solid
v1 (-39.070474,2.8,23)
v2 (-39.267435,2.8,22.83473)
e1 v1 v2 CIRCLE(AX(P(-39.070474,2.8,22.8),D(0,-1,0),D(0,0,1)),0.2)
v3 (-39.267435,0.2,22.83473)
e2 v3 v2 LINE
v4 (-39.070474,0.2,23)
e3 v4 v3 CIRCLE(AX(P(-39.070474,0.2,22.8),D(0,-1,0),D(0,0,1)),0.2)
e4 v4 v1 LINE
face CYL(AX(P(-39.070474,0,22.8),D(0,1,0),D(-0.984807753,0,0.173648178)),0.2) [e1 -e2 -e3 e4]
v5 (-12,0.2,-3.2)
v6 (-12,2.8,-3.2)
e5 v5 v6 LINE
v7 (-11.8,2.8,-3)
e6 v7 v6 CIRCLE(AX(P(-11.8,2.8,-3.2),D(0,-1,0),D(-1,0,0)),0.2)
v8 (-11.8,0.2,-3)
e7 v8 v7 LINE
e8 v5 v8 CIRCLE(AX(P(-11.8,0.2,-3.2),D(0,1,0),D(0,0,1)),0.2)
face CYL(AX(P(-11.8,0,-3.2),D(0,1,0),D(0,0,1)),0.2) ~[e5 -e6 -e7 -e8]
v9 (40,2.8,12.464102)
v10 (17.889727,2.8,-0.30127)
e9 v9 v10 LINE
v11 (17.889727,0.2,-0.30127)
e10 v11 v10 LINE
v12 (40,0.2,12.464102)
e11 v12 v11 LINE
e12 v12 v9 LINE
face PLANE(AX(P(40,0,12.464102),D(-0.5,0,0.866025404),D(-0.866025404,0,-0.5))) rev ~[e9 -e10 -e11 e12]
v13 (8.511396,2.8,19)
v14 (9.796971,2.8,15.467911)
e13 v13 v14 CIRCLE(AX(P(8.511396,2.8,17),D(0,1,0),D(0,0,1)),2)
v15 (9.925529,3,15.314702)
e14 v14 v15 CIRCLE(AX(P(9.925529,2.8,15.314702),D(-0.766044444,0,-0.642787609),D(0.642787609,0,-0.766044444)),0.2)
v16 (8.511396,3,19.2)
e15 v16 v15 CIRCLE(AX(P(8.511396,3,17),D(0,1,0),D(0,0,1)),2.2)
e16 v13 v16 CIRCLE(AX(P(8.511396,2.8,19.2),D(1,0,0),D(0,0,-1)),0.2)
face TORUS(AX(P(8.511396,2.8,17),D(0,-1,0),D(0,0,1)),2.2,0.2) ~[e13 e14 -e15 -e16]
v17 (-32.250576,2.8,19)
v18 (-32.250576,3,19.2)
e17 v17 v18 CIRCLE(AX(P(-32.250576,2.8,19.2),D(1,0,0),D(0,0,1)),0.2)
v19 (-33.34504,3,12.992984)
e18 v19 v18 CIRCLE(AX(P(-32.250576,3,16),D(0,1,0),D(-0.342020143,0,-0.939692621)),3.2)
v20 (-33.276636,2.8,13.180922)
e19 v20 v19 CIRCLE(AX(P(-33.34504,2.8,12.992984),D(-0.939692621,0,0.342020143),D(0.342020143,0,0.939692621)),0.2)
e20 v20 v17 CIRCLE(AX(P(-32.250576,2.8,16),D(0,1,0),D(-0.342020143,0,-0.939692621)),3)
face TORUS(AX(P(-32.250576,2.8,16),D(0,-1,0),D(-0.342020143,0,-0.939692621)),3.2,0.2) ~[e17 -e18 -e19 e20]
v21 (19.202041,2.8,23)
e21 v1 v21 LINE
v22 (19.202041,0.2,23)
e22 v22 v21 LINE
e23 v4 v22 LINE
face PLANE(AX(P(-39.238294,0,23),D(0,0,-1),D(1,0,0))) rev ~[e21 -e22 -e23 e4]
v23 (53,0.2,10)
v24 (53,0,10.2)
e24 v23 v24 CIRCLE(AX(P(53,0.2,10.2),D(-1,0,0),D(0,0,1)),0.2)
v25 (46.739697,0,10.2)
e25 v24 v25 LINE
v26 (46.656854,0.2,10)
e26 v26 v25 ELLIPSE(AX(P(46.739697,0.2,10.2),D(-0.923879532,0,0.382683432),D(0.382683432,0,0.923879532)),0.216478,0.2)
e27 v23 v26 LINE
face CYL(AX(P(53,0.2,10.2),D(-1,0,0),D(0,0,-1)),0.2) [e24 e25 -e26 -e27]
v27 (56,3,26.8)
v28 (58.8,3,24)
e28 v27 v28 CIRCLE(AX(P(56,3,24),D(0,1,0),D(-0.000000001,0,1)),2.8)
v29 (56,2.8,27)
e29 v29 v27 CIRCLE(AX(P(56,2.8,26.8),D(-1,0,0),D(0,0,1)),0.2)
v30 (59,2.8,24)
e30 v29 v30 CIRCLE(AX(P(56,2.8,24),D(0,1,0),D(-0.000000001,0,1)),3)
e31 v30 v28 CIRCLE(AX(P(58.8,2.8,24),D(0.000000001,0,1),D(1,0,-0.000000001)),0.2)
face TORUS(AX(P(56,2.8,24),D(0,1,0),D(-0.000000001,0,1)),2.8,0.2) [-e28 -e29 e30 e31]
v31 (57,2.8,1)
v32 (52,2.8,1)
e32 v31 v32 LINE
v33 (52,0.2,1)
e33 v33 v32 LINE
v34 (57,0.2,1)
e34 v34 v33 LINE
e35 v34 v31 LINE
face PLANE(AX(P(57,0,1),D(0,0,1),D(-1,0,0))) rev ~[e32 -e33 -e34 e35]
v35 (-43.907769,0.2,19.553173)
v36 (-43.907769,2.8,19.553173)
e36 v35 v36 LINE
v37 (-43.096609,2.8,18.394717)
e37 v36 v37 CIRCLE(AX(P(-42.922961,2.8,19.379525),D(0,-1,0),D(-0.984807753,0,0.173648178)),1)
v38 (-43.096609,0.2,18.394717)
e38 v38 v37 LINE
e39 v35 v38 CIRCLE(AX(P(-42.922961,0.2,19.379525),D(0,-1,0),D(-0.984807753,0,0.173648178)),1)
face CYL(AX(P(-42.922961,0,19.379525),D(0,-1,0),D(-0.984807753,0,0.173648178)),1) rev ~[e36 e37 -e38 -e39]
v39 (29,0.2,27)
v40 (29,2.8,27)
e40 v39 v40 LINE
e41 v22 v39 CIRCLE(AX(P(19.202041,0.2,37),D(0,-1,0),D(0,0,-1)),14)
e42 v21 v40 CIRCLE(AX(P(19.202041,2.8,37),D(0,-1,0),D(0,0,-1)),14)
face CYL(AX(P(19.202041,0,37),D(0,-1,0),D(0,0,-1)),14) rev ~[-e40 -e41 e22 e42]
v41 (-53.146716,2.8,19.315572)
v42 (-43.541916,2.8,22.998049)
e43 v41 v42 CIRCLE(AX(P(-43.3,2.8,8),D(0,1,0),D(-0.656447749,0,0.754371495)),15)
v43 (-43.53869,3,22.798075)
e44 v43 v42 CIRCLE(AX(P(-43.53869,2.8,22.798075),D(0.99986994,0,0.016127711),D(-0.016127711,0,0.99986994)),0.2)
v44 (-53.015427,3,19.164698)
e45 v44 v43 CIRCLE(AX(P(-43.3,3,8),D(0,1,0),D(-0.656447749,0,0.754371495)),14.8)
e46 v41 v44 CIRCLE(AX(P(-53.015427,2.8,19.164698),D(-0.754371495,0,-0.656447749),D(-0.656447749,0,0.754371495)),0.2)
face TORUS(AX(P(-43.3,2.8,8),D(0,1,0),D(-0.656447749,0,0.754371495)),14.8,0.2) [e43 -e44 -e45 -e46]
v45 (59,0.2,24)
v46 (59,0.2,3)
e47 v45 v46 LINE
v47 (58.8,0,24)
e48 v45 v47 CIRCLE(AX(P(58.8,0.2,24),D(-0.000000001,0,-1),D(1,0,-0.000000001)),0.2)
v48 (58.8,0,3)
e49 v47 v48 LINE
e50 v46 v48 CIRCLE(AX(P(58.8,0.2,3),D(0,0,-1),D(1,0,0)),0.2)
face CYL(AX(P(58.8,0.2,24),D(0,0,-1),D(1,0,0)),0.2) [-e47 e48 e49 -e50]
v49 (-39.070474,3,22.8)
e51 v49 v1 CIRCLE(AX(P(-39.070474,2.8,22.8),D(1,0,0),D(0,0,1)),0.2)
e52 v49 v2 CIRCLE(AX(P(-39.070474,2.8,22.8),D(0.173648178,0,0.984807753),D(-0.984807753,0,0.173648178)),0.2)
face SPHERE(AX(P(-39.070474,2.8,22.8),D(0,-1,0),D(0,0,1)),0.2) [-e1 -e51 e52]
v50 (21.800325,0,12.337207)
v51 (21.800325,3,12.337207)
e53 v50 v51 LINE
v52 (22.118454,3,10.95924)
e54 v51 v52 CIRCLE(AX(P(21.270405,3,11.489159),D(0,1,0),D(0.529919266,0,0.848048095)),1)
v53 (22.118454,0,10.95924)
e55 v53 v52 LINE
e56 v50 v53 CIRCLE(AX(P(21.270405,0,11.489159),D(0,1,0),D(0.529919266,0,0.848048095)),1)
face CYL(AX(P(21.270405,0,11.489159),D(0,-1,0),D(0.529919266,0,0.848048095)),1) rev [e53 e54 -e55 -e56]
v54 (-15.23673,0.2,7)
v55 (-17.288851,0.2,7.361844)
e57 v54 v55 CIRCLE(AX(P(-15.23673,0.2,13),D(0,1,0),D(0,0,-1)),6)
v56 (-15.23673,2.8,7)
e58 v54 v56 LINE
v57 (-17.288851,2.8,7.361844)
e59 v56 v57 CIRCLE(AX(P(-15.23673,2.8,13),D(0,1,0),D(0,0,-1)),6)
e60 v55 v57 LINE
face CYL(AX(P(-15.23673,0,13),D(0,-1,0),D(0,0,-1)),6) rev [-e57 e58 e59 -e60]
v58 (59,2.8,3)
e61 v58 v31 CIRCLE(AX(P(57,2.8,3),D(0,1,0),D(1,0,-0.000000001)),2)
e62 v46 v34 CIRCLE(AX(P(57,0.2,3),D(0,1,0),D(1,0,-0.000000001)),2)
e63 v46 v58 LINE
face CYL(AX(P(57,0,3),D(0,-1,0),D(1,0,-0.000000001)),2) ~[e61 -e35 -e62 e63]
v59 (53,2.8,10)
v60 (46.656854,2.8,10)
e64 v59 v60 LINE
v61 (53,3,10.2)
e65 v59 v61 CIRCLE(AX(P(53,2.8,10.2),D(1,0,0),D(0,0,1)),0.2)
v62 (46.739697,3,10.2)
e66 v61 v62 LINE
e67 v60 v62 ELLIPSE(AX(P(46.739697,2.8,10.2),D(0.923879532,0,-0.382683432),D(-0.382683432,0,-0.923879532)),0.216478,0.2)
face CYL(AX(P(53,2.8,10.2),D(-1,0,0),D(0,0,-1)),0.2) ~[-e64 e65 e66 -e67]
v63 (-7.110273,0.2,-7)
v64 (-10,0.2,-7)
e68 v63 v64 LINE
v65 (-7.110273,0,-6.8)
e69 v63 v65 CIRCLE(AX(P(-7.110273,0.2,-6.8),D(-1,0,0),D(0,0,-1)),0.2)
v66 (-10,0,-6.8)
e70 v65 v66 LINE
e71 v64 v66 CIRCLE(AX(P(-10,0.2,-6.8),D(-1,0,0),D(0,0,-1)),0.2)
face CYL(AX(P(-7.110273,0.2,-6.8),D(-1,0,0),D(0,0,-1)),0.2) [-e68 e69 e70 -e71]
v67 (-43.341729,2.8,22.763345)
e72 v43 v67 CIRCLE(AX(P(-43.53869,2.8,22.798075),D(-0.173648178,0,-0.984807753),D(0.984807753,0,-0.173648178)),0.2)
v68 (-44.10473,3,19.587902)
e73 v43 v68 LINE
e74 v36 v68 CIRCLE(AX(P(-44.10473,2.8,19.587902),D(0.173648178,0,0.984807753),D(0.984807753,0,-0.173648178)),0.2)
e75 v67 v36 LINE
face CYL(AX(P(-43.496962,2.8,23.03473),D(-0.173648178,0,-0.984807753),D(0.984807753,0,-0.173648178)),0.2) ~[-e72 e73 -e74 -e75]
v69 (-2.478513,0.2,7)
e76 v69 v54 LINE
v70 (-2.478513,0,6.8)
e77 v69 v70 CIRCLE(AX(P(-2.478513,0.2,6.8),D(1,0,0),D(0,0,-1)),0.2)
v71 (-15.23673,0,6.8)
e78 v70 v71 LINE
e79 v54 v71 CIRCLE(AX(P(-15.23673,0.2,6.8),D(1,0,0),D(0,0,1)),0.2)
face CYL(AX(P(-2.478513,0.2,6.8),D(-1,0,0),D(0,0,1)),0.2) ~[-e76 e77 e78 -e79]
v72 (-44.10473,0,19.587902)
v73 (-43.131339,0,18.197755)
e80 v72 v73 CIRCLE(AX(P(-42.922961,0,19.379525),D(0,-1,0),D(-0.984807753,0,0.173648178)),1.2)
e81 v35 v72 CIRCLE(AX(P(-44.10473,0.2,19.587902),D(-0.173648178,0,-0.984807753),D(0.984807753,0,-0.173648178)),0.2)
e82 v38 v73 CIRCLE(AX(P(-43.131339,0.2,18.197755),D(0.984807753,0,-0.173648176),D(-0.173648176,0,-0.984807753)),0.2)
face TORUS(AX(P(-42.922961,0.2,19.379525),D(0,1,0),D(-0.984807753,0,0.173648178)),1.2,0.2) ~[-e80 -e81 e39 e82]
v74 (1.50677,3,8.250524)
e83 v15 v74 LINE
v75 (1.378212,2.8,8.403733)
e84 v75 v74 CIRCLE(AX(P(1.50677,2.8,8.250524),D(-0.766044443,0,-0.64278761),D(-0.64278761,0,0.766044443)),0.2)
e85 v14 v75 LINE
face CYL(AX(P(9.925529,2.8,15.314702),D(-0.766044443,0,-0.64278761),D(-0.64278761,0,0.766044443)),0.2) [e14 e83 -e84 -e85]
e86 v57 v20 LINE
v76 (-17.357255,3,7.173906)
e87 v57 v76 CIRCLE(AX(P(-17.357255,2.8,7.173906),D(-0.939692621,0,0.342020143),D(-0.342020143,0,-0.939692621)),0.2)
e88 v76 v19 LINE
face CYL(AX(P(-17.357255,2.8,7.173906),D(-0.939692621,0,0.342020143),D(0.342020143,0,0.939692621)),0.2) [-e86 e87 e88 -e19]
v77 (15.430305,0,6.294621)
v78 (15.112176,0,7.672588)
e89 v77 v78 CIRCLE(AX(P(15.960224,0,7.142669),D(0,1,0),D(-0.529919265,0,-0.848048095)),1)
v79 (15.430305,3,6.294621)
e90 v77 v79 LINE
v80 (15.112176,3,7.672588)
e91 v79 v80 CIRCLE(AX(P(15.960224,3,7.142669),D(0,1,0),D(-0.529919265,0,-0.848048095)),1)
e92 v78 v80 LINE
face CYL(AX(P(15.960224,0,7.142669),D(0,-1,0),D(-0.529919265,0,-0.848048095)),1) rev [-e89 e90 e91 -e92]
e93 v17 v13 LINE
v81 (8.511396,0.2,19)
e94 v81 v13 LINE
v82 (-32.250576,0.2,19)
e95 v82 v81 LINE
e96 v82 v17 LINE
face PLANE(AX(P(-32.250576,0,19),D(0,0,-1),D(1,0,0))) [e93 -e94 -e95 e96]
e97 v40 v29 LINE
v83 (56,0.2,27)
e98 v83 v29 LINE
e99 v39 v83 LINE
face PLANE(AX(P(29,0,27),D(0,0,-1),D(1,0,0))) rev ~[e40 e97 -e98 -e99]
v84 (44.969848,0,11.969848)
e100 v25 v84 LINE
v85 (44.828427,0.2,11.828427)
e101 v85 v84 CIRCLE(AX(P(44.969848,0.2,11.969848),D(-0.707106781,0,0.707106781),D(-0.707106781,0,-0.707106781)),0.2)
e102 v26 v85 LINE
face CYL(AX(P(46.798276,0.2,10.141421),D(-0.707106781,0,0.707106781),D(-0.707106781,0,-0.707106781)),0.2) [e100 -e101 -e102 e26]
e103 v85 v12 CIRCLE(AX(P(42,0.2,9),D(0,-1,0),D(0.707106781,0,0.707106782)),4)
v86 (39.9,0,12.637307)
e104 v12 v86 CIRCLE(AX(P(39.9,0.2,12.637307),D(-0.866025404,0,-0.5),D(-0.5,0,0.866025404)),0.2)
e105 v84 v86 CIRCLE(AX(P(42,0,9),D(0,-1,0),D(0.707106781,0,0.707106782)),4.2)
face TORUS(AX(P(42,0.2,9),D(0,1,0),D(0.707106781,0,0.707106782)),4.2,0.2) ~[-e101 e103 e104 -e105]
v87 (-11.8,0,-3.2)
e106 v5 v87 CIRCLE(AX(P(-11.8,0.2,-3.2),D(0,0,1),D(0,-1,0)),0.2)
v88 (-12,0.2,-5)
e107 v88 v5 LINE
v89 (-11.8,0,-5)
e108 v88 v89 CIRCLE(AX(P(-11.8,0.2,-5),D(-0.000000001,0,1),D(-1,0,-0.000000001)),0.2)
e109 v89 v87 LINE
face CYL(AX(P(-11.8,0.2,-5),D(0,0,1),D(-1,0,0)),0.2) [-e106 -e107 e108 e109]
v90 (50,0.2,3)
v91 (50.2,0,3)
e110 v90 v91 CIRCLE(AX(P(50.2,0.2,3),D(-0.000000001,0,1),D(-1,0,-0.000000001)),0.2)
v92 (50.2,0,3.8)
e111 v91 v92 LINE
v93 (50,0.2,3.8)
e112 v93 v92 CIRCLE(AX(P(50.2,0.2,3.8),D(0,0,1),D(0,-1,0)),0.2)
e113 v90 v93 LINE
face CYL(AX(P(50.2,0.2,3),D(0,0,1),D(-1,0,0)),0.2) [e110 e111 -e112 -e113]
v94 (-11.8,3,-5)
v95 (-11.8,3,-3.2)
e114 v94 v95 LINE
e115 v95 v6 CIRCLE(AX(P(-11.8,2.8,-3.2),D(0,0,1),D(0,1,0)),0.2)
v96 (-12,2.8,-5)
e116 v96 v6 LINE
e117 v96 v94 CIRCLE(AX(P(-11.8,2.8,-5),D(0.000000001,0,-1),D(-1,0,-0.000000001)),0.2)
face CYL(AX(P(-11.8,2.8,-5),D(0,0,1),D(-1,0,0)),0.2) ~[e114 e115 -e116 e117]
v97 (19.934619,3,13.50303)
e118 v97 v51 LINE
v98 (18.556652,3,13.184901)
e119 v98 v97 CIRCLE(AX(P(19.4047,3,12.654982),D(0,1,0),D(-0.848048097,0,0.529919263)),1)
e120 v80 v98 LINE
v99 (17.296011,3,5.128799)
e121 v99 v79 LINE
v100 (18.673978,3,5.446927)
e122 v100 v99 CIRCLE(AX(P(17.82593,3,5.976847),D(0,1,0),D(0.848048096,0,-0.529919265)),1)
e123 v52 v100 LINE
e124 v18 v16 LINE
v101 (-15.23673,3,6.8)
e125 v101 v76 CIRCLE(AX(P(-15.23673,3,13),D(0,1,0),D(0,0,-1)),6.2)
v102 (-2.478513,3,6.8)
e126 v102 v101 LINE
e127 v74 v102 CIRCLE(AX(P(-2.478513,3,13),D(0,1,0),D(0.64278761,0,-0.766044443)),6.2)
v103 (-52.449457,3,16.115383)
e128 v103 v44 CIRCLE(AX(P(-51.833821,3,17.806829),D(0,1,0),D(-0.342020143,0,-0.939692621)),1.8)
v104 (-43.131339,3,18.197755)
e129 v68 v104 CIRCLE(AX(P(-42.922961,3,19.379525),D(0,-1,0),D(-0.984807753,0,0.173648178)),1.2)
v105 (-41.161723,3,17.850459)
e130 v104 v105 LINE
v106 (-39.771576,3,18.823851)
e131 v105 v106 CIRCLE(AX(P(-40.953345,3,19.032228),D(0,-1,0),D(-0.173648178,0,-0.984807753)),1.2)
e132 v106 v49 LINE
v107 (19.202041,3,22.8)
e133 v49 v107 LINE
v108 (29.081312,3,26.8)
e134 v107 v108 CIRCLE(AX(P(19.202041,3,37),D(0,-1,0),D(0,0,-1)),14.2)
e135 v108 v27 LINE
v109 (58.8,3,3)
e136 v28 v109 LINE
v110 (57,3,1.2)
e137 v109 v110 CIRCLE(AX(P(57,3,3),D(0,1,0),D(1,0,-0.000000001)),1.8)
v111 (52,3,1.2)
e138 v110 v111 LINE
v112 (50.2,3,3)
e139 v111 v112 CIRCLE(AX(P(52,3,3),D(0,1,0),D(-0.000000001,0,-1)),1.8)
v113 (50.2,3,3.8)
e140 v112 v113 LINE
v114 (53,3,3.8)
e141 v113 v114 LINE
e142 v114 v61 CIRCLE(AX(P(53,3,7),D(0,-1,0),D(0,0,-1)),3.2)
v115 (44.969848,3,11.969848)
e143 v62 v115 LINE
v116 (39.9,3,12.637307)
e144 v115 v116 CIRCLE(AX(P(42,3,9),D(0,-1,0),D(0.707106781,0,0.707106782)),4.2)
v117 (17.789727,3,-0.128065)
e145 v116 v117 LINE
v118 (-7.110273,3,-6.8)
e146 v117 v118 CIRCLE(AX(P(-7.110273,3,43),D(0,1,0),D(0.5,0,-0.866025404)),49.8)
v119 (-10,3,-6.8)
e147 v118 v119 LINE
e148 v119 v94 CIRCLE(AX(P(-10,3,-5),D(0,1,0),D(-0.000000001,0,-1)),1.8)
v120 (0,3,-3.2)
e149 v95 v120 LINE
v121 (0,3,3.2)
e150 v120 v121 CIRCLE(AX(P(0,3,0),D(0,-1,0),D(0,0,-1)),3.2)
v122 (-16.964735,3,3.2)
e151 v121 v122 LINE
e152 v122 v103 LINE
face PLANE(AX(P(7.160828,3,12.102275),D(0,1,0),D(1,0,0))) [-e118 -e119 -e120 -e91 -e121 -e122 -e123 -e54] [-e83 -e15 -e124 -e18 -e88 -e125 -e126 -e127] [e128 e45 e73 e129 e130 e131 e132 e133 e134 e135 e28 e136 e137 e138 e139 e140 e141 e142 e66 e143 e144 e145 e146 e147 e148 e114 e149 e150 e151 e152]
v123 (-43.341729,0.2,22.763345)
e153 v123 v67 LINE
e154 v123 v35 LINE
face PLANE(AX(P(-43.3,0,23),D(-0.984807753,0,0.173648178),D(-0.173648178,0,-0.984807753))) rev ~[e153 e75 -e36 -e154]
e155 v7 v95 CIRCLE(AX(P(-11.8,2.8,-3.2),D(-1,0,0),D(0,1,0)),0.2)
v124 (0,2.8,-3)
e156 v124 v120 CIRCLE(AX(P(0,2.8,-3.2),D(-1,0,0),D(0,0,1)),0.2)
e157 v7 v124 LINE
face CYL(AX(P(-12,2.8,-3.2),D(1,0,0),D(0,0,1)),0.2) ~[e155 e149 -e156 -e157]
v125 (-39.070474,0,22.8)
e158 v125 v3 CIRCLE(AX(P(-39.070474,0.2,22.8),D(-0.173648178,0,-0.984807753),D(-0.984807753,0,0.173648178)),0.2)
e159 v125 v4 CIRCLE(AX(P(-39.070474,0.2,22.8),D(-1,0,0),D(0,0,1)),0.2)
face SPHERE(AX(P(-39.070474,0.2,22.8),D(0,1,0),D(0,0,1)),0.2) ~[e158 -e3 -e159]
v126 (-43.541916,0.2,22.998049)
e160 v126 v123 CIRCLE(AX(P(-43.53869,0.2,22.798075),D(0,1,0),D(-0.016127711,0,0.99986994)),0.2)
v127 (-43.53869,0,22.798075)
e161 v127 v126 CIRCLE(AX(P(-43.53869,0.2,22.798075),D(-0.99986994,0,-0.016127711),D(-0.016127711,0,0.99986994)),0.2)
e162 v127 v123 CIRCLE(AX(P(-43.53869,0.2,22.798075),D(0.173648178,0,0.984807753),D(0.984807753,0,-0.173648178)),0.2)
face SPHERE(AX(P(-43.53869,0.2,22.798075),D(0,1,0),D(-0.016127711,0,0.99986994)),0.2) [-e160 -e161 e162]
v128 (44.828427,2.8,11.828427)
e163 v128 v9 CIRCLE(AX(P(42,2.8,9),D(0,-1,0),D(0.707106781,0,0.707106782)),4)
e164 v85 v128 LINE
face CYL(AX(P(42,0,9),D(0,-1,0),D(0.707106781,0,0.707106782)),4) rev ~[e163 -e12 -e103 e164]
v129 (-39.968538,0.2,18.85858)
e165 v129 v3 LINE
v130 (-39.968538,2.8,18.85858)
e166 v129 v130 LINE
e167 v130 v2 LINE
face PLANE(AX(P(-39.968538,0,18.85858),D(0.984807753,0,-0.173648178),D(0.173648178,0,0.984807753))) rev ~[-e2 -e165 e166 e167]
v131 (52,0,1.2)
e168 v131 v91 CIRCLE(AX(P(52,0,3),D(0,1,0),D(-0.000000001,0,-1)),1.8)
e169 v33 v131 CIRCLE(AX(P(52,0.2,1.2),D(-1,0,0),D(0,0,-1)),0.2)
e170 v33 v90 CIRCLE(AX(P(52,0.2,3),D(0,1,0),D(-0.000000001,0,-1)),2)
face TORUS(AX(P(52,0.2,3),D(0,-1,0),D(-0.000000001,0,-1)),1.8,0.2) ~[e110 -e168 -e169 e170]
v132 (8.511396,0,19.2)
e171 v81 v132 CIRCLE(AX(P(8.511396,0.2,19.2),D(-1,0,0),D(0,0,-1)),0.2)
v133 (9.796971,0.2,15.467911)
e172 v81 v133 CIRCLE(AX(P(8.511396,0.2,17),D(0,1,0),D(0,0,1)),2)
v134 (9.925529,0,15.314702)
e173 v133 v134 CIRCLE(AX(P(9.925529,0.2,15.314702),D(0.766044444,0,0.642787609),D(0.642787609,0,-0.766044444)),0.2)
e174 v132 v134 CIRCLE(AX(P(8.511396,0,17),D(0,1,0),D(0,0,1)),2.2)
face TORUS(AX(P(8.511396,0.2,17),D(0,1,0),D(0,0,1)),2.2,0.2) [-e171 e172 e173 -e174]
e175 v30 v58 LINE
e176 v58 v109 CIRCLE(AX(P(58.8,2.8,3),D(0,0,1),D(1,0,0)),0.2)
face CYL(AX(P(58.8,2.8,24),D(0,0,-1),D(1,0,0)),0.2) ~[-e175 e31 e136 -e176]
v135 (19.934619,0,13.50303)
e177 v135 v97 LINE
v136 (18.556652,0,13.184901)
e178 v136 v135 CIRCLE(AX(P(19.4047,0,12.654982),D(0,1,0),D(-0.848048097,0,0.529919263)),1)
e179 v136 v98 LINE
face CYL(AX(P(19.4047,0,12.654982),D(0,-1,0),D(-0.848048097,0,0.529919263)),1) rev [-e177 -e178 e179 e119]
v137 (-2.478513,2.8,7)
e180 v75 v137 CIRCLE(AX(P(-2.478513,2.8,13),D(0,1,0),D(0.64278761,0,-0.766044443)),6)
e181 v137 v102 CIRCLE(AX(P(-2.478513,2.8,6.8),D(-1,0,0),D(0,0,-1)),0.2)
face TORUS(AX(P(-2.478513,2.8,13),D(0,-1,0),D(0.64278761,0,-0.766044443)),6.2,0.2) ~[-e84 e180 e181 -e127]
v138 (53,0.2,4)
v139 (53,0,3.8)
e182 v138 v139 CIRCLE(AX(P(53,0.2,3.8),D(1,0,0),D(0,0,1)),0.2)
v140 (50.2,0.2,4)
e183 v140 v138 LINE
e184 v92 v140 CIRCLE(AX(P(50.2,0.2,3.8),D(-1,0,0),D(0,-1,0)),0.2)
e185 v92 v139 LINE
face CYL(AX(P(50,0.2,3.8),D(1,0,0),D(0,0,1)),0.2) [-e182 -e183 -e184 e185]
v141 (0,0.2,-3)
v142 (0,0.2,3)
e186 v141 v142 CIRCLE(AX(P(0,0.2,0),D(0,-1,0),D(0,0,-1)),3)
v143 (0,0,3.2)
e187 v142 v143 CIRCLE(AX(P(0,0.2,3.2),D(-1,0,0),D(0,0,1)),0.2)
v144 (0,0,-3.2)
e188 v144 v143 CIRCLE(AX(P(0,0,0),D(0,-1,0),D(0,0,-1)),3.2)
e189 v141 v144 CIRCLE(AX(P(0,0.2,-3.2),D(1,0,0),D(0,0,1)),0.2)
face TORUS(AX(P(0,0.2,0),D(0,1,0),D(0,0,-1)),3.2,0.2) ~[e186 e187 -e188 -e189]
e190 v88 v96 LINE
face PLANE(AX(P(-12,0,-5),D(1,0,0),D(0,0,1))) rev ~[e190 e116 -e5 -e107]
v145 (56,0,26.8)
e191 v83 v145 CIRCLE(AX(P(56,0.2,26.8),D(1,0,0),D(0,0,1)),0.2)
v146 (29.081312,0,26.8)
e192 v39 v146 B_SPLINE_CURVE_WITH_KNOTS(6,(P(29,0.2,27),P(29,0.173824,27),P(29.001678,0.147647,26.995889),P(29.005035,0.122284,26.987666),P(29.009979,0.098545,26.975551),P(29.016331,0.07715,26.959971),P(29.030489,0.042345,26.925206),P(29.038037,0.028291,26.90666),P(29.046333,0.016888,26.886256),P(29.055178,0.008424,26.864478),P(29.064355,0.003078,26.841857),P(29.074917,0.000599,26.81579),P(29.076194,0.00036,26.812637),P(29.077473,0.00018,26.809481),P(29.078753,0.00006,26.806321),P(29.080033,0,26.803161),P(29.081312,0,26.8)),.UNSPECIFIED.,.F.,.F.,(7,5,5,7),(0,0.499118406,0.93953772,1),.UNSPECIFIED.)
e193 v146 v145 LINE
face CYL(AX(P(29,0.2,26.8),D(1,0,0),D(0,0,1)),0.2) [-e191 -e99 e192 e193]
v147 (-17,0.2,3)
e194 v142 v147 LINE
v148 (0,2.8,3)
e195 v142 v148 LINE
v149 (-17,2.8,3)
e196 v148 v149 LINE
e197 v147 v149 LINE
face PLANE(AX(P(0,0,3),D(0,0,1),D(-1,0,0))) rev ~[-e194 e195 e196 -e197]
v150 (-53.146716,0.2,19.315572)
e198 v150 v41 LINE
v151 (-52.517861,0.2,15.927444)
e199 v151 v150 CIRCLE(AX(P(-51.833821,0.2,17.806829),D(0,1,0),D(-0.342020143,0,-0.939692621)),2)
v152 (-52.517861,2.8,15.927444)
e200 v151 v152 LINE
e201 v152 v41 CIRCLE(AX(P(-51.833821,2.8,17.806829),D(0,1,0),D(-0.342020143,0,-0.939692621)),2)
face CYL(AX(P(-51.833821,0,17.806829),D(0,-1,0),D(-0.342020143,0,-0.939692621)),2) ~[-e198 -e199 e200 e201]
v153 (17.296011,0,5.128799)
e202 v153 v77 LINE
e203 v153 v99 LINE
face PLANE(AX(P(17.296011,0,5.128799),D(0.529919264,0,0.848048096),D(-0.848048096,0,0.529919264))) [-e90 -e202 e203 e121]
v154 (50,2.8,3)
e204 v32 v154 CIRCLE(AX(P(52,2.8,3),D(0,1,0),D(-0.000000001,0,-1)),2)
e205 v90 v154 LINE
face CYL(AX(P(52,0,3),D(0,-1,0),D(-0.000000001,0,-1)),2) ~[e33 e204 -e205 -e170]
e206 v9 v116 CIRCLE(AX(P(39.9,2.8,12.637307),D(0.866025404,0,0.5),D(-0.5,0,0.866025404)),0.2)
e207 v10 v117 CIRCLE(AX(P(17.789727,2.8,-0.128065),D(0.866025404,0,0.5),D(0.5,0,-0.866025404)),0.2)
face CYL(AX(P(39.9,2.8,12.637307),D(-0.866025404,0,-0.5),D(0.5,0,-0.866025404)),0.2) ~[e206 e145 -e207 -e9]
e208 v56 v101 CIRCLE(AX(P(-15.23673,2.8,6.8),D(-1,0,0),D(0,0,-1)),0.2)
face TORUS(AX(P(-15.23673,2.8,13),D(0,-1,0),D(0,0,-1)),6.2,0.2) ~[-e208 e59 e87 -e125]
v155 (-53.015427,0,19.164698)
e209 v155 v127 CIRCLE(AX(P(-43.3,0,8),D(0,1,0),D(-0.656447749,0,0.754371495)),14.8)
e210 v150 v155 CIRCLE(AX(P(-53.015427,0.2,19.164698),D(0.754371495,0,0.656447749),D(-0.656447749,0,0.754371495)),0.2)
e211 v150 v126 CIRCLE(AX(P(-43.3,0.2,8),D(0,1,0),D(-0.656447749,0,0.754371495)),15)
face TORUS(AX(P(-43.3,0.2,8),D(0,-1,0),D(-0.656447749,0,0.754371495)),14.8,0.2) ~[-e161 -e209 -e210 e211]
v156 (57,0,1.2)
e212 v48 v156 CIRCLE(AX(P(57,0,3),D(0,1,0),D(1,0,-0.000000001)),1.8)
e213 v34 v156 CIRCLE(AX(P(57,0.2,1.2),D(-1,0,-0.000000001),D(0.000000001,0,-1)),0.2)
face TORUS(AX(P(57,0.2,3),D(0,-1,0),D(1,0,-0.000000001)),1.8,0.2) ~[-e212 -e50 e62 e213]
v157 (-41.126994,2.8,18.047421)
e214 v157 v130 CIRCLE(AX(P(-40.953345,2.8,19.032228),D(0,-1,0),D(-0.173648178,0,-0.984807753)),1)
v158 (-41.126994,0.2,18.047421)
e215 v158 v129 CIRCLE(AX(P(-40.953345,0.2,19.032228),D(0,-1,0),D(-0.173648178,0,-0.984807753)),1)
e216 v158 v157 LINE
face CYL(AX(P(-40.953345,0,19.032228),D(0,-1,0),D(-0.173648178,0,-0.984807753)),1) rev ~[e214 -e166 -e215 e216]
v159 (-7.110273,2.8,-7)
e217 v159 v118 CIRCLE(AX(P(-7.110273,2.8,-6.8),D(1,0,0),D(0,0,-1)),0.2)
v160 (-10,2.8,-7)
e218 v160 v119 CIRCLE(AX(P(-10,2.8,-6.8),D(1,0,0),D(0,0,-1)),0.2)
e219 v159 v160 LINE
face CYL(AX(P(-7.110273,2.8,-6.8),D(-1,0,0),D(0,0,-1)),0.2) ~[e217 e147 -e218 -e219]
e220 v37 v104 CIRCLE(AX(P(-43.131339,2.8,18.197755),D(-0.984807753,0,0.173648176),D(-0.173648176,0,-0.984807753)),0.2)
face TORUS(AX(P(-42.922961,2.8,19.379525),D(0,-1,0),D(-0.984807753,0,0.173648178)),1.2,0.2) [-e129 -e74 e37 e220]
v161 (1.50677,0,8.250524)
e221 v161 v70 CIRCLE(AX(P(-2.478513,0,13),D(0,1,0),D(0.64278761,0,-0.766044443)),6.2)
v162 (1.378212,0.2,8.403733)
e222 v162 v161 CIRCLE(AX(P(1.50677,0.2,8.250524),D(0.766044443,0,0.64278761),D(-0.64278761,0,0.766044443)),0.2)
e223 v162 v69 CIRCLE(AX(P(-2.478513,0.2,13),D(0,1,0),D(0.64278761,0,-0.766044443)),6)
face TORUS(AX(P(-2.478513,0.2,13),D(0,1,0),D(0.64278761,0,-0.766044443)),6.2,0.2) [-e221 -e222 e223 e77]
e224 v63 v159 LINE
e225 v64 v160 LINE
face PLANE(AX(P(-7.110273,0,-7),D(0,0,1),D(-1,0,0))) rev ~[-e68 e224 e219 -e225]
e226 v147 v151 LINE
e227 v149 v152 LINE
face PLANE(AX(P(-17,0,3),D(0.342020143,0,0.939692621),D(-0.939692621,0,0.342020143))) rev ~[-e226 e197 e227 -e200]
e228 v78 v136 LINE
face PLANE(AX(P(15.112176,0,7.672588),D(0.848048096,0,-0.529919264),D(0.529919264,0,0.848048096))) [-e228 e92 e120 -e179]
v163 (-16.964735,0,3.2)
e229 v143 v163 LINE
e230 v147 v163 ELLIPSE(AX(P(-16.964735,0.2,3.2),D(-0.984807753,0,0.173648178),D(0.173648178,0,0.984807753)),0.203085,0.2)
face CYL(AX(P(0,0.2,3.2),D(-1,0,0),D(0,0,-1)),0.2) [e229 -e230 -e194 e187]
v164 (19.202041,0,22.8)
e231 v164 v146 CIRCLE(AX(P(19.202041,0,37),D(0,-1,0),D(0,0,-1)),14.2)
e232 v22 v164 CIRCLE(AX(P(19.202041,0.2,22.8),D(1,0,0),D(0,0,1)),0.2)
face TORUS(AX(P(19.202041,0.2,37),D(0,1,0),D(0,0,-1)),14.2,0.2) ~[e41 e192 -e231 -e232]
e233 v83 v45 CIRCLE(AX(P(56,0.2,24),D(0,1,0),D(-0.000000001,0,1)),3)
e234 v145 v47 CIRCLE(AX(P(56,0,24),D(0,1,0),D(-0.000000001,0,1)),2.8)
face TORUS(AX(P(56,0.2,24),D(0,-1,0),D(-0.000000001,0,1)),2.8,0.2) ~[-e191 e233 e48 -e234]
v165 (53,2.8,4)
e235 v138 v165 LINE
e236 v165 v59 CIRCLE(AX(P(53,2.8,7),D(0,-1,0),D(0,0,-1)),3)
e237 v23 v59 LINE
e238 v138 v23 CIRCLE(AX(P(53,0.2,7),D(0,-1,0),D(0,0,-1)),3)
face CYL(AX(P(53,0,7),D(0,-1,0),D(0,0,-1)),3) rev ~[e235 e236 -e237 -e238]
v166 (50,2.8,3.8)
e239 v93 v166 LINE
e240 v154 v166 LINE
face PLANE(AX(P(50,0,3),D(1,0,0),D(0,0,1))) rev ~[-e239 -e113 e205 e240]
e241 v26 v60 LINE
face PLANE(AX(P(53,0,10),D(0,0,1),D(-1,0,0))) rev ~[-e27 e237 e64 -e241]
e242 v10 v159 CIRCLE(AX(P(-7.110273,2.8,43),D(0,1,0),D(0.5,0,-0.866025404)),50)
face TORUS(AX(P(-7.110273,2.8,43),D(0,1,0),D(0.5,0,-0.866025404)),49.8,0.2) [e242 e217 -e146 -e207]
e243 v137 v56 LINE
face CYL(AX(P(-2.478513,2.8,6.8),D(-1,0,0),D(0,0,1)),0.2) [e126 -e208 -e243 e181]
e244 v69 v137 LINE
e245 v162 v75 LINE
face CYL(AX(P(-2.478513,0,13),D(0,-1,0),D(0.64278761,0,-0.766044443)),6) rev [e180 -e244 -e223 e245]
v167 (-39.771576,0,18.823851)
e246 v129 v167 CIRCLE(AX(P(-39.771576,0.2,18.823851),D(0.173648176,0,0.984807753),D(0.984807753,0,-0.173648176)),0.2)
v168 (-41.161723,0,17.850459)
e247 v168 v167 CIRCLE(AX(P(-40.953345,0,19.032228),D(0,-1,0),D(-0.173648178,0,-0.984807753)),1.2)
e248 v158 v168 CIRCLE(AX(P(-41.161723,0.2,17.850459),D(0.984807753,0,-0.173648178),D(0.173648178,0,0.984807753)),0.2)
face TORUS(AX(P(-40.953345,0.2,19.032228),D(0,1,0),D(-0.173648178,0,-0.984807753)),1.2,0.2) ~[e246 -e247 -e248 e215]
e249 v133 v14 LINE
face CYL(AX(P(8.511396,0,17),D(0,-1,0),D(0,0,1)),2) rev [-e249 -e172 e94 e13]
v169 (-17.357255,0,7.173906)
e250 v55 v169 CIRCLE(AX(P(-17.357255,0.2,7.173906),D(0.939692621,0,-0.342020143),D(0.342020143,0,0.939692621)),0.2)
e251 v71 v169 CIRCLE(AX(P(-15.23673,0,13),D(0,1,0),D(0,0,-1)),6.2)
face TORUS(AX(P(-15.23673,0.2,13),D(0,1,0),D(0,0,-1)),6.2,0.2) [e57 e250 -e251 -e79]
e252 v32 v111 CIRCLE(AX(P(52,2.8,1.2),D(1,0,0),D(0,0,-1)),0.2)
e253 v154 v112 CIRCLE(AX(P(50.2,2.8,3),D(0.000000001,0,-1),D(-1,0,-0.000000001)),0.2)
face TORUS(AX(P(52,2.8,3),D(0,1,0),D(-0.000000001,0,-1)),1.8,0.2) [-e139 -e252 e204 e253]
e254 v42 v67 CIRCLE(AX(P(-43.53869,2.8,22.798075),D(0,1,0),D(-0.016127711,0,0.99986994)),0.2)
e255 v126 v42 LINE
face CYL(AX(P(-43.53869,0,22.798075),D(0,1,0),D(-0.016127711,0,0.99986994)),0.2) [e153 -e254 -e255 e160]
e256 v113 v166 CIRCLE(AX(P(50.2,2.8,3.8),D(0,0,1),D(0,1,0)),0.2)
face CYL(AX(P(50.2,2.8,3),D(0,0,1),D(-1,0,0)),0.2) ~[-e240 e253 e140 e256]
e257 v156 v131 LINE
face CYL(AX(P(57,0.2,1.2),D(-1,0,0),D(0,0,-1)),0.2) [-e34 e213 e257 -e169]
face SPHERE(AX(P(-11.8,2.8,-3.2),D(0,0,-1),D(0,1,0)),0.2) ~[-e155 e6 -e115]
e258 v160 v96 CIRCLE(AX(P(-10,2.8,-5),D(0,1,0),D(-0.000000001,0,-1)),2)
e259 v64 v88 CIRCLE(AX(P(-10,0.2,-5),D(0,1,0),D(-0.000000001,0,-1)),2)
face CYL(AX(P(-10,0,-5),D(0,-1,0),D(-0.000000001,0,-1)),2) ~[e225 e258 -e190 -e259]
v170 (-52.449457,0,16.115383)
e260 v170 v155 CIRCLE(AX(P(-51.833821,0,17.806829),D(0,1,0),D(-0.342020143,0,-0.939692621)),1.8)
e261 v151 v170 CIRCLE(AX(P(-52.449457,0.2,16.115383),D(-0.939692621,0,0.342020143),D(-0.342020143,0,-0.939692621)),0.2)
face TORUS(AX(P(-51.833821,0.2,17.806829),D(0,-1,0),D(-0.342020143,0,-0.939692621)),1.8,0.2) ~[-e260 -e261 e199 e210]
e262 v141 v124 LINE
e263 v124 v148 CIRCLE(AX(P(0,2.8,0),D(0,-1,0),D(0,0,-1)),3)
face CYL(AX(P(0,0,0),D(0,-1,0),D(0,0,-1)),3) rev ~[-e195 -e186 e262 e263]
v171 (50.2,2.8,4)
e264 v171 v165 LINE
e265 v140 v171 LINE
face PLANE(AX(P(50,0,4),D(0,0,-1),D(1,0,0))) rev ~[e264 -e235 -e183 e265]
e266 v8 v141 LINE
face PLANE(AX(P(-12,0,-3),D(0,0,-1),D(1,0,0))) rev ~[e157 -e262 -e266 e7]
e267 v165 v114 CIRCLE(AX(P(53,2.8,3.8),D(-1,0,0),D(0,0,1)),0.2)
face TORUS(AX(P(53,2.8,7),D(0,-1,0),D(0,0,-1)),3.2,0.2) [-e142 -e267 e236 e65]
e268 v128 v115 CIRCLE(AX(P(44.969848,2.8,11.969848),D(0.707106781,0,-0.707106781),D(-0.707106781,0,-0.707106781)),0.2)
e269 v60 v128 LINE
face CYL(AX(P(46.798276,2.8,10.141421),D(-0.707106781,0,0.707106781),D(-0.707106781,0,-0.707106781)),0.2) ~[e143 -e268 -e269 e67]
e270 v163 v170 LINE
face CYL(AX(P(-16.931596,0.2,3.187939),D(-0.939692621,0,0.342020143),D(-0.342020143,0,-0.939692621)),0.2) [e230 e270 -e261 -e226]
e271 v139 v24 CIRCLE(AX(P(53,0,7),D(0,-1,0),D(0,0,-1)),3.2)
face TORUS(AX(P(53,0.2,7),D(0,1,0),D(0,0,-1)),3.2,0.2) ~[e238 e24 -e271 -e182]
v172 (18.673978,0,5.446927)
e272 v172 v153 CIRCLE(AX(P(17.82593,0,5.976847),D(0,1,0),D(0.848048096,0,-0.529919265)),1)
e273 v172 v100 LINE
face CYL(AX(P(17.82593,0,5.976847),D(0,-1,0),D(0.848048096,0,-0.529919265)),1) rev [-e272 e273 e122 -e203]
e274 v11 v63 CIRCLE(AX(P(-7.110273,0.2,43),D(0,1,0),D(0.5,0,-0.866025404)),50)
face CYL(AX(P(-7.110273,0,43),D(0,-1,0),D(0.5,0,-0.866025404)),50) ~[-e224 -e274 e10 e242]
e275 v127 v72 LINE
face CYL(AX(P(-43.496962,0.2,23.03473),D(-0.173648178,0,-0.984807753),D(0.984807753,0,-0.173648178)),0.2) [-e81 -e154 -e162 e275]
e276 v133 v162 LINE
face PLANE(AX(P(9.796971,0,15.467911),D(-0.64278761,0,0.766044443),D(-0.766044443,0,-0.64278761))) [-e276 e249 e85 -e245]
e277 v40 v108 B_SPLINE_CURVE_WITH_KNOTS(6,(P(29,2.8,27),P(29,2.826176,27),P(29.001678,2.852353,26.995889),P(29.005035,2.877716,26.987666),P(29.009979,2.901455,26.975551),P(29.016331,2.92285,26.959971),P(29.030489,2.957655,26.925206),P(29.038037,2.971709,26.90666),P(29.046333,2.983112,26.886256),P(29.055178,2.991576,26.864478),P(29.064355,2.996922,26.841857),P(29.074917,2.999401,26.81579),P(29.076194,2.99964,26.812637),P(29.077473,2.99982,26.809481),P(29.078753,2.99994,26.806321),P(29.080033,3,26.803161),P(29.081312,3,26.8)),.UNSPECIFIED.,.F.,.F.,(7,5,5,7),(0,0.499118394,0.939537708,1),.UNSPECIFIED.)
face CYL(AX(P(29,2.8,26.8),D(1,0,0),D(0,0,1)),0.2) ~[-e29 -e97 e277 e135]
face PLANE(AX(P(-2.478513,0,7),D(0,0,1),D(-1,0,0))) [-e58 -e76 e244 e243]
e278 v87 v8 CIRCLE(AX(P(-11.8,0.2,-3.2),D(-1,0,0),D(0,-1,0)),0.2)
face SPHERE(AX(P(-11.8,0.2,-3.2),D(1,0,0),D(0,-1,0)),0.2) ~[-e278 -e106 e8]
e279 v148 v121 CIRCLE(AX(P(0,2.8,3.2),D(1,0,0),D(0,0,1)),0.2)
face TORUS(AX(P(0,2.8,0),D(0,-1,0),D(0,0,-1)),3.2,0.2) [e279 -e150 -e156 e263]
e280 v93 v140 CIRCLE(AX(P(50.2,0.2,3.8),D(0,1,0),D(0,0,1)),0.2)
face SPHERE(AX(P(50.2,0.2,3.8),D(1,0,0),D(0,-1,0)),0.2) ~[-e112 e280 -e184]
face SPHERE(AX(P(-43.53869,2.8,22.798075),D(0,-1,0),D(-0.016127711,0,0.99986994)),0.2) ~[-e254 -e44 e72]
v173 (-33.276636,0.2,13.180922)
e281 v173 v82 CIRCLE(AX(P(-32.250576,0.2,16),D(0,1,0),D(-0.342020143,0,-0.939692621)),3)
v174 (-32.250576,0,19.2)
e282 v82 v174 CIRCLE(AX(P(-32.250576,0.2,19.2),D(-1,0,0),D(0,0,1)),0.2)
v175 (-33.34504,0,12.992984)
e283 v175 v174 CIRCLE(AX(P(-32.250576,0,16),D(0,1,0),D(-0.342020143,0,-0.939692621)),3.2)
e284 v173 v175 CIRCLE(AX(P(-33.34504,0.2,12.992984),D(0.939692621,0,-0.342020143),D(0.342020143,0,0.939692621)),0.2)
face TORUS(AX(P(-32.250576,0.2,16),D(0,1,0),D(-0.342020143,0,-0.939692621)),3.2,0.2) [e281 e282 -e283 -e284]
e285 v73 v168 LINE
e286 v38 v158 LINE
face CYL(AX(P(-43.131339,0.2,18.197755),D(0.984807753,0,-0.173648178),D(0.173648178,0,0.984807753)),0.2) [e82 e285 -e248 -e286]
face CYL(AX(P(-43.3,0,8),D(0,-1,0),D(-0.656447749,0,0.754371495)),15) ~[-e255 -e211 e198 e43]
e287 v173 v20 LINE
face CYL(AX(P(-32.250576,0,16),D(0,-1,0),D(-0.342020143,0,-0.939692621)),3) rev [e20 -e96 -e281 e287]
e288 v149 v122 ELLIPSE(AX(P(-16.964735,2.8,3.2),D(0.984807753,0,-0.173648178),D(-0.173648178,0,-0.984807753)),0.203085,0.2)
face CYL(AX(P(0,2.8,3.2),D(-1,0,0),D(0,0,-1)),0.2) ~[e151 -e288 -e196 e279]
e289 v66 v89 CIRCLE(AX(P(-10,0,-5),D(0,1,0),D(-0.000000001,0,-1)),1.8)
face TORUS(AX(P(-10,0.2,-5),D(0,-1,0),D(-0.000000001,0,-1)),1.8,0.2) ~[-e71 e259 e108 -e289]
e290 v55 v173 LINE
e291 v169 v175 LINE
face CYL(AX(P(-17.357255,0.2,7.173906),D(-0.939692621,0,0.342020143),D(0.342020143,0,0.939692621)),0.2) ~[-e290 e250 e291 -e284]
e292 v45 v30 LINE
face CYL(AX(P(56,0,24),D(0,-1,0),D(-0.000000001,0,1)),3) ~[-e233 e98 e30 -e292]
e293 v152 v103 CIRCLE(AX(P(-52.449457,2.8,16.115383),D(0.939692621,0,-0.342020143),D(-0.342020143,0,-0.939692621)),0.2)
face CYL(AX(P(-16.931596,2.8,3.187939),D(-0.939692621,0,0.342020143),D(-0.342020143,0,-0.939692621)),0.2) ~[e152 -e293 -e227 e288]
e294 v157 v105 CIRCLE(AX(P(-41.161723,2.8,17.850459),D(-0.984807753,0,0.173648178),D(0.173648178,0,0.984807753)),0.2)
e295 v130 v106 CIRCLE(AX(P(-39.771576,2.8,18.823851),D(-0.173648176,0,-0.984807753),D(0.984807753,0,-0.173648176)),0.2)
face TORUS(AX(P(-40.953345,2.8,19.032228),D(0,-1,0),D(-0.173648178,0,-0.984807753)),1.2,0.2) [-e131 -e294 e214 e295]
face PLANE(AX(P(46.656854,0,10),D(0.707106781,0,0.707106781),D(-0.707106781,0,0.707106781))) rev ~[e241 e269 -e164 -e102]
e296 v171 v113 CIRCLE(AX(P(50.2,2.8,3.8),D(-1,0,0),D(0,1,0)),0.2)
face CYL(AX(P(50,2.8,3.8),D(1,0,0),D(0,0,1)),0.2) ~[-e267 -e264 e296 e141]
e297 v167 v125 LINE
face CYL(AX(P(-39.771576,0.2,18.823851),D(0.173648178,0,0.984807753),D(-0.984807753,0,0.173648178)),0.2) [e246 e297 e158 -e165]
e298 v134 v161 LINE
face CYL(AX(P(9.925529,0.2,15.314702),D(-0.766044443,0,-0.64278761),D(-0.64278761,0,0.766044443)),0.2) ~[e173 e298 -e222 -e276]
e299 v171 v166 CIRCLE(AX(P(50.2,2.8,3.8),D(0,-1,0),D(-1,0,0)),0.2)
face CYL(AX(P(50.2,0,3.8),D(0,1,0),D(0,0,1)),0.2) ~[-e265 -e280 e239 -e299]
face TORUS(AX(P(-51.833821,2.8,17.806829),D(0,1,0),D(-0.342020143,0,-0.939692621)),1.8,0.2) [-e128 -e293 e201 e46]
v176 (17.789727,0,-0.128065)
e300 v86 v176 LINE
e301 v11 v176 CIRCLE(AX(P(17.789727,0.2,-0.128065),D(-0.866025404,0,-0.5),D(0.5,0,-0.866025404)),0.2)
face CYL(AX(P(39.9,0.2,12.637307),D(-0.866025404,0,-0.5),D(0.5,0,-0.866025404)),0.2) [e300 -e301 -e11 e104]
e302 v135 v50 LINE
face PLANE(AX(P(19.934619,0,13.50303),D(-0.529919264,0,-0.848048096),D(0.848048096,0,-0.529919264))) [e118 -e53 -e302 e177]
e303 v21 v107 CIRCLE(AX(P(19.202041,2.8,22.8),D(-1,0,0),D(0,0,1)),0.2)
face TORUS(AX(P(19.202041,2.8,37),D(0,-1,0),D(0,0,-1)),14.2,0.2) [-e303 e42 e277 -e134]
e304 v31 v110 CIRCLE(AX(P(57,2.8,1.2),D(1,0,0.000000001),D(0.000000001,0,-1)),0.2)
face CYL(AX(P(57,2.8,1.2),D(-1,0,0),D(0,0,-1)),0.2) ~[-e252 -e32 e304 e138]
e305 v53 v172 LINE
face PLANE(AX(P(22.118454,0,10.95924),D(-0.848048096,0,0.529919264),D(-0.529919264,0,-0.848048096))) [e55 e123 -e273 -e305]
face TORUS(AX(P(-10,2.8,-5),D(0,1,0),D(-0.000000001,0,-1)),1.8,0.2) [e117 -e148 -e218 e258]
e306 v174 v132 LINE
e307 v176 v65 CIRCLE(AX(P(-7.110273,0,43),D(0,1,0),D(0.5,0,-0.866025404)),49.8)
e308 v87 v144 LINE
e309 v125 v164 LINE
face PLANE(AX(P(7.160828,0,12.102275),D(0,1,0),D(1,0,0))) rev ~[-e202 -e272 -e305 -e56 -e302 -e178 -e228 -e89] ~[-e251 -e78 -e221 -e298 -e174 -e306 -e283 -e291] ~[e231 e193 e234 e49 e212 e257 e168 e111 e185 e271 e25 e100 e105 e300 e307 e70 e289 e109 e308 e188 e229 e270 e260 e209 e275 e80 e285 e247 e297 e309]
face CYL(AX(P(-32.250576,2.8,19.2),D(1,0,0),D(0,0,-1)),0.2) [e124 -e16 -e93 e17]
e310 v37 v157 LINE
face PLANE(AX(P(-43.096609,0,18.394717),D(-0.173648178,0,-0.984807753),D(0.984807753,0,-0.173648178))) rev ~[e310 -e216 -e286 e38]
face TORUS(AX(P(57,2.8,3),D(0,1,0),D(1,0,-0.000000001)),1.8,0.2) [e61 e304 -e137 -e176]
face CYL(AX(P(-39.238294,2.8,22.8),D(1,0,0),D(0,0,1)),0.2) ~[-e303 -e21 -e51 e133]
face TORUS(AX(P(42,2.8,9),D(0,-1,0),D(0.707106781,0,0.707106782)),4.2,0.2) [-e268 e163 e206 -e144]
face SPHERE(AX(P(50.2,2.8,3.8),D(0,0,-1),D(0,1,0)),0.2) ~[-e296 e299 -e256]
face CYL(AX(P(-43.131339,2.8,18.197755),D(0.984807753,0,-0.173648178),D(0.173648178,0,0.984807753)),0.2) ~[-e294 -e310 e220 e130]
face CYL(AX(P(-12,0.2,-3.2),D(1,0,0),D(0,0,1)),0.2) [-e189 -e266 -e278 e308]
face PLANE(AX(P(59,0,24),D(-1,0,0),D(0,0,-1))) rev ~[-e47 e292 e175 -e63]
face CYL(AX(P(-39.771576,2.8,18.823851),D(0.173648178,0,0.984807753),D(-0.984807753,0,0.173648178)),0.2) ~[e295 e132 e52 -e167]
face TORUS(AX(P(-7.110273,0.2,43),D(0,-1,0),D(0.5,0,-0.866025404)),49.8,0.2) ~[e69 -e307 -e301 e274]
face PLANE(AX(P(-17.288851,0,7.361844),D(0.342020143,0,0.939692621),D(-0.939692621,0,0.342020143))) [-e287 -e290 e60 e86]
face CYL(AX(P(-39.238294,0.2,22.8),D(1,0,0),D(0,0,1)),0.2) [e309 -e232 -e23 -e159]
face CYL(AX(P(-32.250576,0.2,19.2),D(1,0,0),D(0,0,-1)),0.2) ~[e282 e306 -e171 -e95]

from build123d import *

# Parameters (mm, degrees)
BOSS_EXTRUDE1_DEPTH = 3
FILLET1_R           = 0.2


with BuildPart() as part:
    # Sketch1 → Boss-Extrude1 (new body)
    with BuildSketch(Plane(origin=(0, 0, 0), x_dir=(1, 0, 0), z_dir=(0, 1, 0))):
        with BuildLine():
            Line((0, -3), (-17, -3))
            Line((-17, -3), (-52.517861023, -15.927444197))
            ThreePointArc((-52.517861023, -15.927444197), (-53.800236603, -17.441851852), (-53.146716234, -19.315572429))
            ThreePointArc((-53.146716234, -19.315572429), (-48.556729666, -22.048729239), (-43.3, -23))
            Line((-43.3, -23), (-43.907768622, -19.553172864))
            ThreePointArc((-43.907768622, -19.553172864), (-43.742112913, -18.80594825), (-43.096609046, -18.394716934))
            Line((-43.096609046, -18.394716934), (-41.12699354, -18.047420578))
            ThreePointArc((-41.12699354, -18.047420578), (-40.379768926, -18.213076287), (-39.96853761, -18.858580154))
            Line((-39.96853761, -18.858580154), (-39.238293552, -23))
            Line((-39.238293552, -23), (19.202041029, -23))
            ThreePointArc((19.202041029, -23), (24.493543651, -24.038518603), (29, -27))
            Line((29, -27), (56, -27))
            ThreePointArc((56, -27), (58.121320344, -26.121320344), (59, -24))
            Line((59, -24), (59, -3))
            ThreePointArc((59, -3), (58.414213562, -1.585786438), (57, -1))
            Line((57, -1), (52, -1))
            ThreePointArc((52, -1), (50.585786438, -1.585786438), (50, -3))
            Line((50, -3), (50, -4))
            Line((50, -4), (53, -4))
            ThreePointArc((53, -4), (56, -7), (53, -10))
            Line((53, -10), (46.656854249, -10))
            Line((46.656854249, -10), (44.828427125, -11.828427125))
            ThreePointArc((44.828427125, -11.828427125), (42.522104769, -12.965779445), (40, -12.464101615))
            Line((40, -12.464101615), (17.889727457, 0.301270189))
            ThreePointArc((17.889727457, 0.301270189), (5.830679712, 5.296291314), (-7.110272543, 7))
            Line((-7.110272543, 7), (-10, 7))
            ThreePointArc((-10, 7), (-11.414213562, 6.414213562), (-12, 5))
            Line((-12, 5), (-12, 3))
            Line((-12, 3), (0, 3))
            ThreePointArc((0, 3), (3, 0), (0, -3))
        make_face()
        with BuildLine():
            Line((-2.478513483, -7), (-15.236730193, -7))
            ThreePointArc((-15.236730193, -7), (-16.278619259, -7.091153482), (-17.288851053, -7.361844275))
            Line((-17.288851053, -7.361844275), (-33.276636082, -13.180922138))
            ThreePointArc((-33.276636082, -13.180922138), (-35.204998911, -16.520944533), (-32.250575652, -19))
            Line((-32.250575652, -19), (8.511396195, -19))
            ThreePointArc((8.511396195, -19), (10.390781437, -17.684040287), (9.796971414, -15.467911114))
            Line((9.796971414, -15.467911114), (1.378212175, -8.403733341))
            ThreePointArc((1.378212175, -8.403733341), (-0.426392623, -7.361844275), (-2.478513483, -7))
        make_face(mode=Mode.SUBTRACT)
        with BuildLine():
            Line((15.112176312, -7.672588307), (18.55665153, -13.184900932))
            ThreePointArc((18.55665153, -13.184900932), (19.179748572, -13.629351733), (19.93461889, -13.503029764))
            Line((19.93461889, -13.503029764), (21.800324702, -12.337207383))
            ThreePointArc((21.800324702, -12.337207383), (22.244775502, -11.714110341), (22.118453534, -10.959240022))
            Line((22.118453534, -10.959240022), (18.673978316, -5.446927397))
            ThreePointArc((18.673978316, -5.446927397), (18.050881274, -5.002476597), (17.296010956, -5.128798566))
            Line((17.296010956, -5.128798566), (15.430305144, -6.294620947))
            ThreePointArc((15.430305144, -6.294620947), (14.985854344, -6.917717989), (15.112176312, -7.672588307))
        make_face(mode=Mode.SUBTRACT)
    extrude(amount=BOSS_EXTRUDE1_DEPTH)

    # Fillet1
    fillet1_edges = [part.edges().sort_by_distance(p)[0] for p in [
        (58.121320344, 3, 26.121320344),
        (59, 3, 13.5),
        (58.414213562, 3, 1.585786438),
        (54.5, 3, 1),
        (50.585786438, 3, 1.585786438),
        (50, 3, 3.5),
        (51.5, 3, 4),
        (56, 3, 7),
        (49.828427125, 3, 10),
        (45.742640687, 3, 10.914213562),
        (42.522104769, 3, 12.965779445),
        (28.944863729, 3, 6.081415713),
        (5.830679712, 3, -5.296291314),
        (-8.555136271, 3, -7),
        (-11.414213562, 3, -6.414213562),
        (-12, 3, -4),
        (-6, 3, -3),
        (3, 3, 0),
        (-8.5, 3, 3),
        (-34.758930511, 3, 9.463722099),
        (-53.800236603, 3, 17.441851852),
        (-48.556729666, 3, 22.048729239),
        (-16.278619259, 3, 7.091153482),
        (-8.857621838, 3, 7),
        (-48.556729666, 0, 22.048729239),
        (-53.800236603, 0, 17.441851852),
        (-34.758930511, 0, 9.463722099),
        (-8.5, 0, 3),
        (3, 0, 0),
        (-6, 0, -3),
        (-0.426392623, 3, 7.361844275),
        (-12, 0, -4),
        (-11.414213562, 0, -6.414213562),
        (-8.555136271, 0, -7),
        (5.830679712, 0, -5.296291314),
        (28.944863729, 0, 6.081415713),
        (42.522104769, 0, 12.965779445),
        (45.742640687, 0, 10.914213562),
        (49.828427125, 0, 10),
        (5.587591795, 3, 11.935822228),
        (56, 0, 7),
        (51.5, 0, 4),
        (50, 0, 3.5),
        (50.585786438, 0, 1.585786438),
        (54.5, 0, 1),
        (58.414213562, 0, 1.585786438),
        (59, 0, 13.5),
        (58.121320344, 0, 26.121320344),
        (10.390781437, 3, 17.684040287),
        (42.5, 0, 27),
        (24.493543651, 0, 24.038518603),
        (-10.018126262, 0, 23),
        (-39.603415581, 0, 20.929290077),
        (-40.379768926, 0, 18.213076287),
        (-42.111801293, 0, 18.221068756),
        (-43.742112913, 0, 18.80594825),
        (-43.603884311, 0, 21.276586432),
        (-11.869589728, 3, 19),
        (-25.282743567, 0, 10.271383206),
        (-35.204998911, 0, 16.520944533),
        (-11.869589728, 0, 19),
        (10.390781437, 0, 17.684040287),
        (5.587591795, 0, 11.935822228),
        (-0.426392623, 0, 7.361844275),
        (-8.857621838, 0, 7),
        (-16.278619259, 0, 7.091153482),
        (-35.204998911, 3, 16.520944533),
        (-25.282743567, 3, 10.271383206),
        (-43.603884311, 3, 21.276586432),
        (-43.742112913, 3, 18.80594825),
        (-42.111801293, 3, 18.221068756),
        (-43.3, 1.5, 23),
        (-12, 1.5, -3),
        (50, 1.5, 4),
        (-40.379768926, 3, 18.213076287),
        (-39.238293552, 1.5, 23),
        (-39.603415581, 3, 20.929290077),
        (-10.018126262, 3, 23),
        (24.493543651, 3, 24.038518603),
        (42.5, 3, 27),
    ]]
    fillet(fillet1_edges, radius=FILLET1_R)


solid = part.part
